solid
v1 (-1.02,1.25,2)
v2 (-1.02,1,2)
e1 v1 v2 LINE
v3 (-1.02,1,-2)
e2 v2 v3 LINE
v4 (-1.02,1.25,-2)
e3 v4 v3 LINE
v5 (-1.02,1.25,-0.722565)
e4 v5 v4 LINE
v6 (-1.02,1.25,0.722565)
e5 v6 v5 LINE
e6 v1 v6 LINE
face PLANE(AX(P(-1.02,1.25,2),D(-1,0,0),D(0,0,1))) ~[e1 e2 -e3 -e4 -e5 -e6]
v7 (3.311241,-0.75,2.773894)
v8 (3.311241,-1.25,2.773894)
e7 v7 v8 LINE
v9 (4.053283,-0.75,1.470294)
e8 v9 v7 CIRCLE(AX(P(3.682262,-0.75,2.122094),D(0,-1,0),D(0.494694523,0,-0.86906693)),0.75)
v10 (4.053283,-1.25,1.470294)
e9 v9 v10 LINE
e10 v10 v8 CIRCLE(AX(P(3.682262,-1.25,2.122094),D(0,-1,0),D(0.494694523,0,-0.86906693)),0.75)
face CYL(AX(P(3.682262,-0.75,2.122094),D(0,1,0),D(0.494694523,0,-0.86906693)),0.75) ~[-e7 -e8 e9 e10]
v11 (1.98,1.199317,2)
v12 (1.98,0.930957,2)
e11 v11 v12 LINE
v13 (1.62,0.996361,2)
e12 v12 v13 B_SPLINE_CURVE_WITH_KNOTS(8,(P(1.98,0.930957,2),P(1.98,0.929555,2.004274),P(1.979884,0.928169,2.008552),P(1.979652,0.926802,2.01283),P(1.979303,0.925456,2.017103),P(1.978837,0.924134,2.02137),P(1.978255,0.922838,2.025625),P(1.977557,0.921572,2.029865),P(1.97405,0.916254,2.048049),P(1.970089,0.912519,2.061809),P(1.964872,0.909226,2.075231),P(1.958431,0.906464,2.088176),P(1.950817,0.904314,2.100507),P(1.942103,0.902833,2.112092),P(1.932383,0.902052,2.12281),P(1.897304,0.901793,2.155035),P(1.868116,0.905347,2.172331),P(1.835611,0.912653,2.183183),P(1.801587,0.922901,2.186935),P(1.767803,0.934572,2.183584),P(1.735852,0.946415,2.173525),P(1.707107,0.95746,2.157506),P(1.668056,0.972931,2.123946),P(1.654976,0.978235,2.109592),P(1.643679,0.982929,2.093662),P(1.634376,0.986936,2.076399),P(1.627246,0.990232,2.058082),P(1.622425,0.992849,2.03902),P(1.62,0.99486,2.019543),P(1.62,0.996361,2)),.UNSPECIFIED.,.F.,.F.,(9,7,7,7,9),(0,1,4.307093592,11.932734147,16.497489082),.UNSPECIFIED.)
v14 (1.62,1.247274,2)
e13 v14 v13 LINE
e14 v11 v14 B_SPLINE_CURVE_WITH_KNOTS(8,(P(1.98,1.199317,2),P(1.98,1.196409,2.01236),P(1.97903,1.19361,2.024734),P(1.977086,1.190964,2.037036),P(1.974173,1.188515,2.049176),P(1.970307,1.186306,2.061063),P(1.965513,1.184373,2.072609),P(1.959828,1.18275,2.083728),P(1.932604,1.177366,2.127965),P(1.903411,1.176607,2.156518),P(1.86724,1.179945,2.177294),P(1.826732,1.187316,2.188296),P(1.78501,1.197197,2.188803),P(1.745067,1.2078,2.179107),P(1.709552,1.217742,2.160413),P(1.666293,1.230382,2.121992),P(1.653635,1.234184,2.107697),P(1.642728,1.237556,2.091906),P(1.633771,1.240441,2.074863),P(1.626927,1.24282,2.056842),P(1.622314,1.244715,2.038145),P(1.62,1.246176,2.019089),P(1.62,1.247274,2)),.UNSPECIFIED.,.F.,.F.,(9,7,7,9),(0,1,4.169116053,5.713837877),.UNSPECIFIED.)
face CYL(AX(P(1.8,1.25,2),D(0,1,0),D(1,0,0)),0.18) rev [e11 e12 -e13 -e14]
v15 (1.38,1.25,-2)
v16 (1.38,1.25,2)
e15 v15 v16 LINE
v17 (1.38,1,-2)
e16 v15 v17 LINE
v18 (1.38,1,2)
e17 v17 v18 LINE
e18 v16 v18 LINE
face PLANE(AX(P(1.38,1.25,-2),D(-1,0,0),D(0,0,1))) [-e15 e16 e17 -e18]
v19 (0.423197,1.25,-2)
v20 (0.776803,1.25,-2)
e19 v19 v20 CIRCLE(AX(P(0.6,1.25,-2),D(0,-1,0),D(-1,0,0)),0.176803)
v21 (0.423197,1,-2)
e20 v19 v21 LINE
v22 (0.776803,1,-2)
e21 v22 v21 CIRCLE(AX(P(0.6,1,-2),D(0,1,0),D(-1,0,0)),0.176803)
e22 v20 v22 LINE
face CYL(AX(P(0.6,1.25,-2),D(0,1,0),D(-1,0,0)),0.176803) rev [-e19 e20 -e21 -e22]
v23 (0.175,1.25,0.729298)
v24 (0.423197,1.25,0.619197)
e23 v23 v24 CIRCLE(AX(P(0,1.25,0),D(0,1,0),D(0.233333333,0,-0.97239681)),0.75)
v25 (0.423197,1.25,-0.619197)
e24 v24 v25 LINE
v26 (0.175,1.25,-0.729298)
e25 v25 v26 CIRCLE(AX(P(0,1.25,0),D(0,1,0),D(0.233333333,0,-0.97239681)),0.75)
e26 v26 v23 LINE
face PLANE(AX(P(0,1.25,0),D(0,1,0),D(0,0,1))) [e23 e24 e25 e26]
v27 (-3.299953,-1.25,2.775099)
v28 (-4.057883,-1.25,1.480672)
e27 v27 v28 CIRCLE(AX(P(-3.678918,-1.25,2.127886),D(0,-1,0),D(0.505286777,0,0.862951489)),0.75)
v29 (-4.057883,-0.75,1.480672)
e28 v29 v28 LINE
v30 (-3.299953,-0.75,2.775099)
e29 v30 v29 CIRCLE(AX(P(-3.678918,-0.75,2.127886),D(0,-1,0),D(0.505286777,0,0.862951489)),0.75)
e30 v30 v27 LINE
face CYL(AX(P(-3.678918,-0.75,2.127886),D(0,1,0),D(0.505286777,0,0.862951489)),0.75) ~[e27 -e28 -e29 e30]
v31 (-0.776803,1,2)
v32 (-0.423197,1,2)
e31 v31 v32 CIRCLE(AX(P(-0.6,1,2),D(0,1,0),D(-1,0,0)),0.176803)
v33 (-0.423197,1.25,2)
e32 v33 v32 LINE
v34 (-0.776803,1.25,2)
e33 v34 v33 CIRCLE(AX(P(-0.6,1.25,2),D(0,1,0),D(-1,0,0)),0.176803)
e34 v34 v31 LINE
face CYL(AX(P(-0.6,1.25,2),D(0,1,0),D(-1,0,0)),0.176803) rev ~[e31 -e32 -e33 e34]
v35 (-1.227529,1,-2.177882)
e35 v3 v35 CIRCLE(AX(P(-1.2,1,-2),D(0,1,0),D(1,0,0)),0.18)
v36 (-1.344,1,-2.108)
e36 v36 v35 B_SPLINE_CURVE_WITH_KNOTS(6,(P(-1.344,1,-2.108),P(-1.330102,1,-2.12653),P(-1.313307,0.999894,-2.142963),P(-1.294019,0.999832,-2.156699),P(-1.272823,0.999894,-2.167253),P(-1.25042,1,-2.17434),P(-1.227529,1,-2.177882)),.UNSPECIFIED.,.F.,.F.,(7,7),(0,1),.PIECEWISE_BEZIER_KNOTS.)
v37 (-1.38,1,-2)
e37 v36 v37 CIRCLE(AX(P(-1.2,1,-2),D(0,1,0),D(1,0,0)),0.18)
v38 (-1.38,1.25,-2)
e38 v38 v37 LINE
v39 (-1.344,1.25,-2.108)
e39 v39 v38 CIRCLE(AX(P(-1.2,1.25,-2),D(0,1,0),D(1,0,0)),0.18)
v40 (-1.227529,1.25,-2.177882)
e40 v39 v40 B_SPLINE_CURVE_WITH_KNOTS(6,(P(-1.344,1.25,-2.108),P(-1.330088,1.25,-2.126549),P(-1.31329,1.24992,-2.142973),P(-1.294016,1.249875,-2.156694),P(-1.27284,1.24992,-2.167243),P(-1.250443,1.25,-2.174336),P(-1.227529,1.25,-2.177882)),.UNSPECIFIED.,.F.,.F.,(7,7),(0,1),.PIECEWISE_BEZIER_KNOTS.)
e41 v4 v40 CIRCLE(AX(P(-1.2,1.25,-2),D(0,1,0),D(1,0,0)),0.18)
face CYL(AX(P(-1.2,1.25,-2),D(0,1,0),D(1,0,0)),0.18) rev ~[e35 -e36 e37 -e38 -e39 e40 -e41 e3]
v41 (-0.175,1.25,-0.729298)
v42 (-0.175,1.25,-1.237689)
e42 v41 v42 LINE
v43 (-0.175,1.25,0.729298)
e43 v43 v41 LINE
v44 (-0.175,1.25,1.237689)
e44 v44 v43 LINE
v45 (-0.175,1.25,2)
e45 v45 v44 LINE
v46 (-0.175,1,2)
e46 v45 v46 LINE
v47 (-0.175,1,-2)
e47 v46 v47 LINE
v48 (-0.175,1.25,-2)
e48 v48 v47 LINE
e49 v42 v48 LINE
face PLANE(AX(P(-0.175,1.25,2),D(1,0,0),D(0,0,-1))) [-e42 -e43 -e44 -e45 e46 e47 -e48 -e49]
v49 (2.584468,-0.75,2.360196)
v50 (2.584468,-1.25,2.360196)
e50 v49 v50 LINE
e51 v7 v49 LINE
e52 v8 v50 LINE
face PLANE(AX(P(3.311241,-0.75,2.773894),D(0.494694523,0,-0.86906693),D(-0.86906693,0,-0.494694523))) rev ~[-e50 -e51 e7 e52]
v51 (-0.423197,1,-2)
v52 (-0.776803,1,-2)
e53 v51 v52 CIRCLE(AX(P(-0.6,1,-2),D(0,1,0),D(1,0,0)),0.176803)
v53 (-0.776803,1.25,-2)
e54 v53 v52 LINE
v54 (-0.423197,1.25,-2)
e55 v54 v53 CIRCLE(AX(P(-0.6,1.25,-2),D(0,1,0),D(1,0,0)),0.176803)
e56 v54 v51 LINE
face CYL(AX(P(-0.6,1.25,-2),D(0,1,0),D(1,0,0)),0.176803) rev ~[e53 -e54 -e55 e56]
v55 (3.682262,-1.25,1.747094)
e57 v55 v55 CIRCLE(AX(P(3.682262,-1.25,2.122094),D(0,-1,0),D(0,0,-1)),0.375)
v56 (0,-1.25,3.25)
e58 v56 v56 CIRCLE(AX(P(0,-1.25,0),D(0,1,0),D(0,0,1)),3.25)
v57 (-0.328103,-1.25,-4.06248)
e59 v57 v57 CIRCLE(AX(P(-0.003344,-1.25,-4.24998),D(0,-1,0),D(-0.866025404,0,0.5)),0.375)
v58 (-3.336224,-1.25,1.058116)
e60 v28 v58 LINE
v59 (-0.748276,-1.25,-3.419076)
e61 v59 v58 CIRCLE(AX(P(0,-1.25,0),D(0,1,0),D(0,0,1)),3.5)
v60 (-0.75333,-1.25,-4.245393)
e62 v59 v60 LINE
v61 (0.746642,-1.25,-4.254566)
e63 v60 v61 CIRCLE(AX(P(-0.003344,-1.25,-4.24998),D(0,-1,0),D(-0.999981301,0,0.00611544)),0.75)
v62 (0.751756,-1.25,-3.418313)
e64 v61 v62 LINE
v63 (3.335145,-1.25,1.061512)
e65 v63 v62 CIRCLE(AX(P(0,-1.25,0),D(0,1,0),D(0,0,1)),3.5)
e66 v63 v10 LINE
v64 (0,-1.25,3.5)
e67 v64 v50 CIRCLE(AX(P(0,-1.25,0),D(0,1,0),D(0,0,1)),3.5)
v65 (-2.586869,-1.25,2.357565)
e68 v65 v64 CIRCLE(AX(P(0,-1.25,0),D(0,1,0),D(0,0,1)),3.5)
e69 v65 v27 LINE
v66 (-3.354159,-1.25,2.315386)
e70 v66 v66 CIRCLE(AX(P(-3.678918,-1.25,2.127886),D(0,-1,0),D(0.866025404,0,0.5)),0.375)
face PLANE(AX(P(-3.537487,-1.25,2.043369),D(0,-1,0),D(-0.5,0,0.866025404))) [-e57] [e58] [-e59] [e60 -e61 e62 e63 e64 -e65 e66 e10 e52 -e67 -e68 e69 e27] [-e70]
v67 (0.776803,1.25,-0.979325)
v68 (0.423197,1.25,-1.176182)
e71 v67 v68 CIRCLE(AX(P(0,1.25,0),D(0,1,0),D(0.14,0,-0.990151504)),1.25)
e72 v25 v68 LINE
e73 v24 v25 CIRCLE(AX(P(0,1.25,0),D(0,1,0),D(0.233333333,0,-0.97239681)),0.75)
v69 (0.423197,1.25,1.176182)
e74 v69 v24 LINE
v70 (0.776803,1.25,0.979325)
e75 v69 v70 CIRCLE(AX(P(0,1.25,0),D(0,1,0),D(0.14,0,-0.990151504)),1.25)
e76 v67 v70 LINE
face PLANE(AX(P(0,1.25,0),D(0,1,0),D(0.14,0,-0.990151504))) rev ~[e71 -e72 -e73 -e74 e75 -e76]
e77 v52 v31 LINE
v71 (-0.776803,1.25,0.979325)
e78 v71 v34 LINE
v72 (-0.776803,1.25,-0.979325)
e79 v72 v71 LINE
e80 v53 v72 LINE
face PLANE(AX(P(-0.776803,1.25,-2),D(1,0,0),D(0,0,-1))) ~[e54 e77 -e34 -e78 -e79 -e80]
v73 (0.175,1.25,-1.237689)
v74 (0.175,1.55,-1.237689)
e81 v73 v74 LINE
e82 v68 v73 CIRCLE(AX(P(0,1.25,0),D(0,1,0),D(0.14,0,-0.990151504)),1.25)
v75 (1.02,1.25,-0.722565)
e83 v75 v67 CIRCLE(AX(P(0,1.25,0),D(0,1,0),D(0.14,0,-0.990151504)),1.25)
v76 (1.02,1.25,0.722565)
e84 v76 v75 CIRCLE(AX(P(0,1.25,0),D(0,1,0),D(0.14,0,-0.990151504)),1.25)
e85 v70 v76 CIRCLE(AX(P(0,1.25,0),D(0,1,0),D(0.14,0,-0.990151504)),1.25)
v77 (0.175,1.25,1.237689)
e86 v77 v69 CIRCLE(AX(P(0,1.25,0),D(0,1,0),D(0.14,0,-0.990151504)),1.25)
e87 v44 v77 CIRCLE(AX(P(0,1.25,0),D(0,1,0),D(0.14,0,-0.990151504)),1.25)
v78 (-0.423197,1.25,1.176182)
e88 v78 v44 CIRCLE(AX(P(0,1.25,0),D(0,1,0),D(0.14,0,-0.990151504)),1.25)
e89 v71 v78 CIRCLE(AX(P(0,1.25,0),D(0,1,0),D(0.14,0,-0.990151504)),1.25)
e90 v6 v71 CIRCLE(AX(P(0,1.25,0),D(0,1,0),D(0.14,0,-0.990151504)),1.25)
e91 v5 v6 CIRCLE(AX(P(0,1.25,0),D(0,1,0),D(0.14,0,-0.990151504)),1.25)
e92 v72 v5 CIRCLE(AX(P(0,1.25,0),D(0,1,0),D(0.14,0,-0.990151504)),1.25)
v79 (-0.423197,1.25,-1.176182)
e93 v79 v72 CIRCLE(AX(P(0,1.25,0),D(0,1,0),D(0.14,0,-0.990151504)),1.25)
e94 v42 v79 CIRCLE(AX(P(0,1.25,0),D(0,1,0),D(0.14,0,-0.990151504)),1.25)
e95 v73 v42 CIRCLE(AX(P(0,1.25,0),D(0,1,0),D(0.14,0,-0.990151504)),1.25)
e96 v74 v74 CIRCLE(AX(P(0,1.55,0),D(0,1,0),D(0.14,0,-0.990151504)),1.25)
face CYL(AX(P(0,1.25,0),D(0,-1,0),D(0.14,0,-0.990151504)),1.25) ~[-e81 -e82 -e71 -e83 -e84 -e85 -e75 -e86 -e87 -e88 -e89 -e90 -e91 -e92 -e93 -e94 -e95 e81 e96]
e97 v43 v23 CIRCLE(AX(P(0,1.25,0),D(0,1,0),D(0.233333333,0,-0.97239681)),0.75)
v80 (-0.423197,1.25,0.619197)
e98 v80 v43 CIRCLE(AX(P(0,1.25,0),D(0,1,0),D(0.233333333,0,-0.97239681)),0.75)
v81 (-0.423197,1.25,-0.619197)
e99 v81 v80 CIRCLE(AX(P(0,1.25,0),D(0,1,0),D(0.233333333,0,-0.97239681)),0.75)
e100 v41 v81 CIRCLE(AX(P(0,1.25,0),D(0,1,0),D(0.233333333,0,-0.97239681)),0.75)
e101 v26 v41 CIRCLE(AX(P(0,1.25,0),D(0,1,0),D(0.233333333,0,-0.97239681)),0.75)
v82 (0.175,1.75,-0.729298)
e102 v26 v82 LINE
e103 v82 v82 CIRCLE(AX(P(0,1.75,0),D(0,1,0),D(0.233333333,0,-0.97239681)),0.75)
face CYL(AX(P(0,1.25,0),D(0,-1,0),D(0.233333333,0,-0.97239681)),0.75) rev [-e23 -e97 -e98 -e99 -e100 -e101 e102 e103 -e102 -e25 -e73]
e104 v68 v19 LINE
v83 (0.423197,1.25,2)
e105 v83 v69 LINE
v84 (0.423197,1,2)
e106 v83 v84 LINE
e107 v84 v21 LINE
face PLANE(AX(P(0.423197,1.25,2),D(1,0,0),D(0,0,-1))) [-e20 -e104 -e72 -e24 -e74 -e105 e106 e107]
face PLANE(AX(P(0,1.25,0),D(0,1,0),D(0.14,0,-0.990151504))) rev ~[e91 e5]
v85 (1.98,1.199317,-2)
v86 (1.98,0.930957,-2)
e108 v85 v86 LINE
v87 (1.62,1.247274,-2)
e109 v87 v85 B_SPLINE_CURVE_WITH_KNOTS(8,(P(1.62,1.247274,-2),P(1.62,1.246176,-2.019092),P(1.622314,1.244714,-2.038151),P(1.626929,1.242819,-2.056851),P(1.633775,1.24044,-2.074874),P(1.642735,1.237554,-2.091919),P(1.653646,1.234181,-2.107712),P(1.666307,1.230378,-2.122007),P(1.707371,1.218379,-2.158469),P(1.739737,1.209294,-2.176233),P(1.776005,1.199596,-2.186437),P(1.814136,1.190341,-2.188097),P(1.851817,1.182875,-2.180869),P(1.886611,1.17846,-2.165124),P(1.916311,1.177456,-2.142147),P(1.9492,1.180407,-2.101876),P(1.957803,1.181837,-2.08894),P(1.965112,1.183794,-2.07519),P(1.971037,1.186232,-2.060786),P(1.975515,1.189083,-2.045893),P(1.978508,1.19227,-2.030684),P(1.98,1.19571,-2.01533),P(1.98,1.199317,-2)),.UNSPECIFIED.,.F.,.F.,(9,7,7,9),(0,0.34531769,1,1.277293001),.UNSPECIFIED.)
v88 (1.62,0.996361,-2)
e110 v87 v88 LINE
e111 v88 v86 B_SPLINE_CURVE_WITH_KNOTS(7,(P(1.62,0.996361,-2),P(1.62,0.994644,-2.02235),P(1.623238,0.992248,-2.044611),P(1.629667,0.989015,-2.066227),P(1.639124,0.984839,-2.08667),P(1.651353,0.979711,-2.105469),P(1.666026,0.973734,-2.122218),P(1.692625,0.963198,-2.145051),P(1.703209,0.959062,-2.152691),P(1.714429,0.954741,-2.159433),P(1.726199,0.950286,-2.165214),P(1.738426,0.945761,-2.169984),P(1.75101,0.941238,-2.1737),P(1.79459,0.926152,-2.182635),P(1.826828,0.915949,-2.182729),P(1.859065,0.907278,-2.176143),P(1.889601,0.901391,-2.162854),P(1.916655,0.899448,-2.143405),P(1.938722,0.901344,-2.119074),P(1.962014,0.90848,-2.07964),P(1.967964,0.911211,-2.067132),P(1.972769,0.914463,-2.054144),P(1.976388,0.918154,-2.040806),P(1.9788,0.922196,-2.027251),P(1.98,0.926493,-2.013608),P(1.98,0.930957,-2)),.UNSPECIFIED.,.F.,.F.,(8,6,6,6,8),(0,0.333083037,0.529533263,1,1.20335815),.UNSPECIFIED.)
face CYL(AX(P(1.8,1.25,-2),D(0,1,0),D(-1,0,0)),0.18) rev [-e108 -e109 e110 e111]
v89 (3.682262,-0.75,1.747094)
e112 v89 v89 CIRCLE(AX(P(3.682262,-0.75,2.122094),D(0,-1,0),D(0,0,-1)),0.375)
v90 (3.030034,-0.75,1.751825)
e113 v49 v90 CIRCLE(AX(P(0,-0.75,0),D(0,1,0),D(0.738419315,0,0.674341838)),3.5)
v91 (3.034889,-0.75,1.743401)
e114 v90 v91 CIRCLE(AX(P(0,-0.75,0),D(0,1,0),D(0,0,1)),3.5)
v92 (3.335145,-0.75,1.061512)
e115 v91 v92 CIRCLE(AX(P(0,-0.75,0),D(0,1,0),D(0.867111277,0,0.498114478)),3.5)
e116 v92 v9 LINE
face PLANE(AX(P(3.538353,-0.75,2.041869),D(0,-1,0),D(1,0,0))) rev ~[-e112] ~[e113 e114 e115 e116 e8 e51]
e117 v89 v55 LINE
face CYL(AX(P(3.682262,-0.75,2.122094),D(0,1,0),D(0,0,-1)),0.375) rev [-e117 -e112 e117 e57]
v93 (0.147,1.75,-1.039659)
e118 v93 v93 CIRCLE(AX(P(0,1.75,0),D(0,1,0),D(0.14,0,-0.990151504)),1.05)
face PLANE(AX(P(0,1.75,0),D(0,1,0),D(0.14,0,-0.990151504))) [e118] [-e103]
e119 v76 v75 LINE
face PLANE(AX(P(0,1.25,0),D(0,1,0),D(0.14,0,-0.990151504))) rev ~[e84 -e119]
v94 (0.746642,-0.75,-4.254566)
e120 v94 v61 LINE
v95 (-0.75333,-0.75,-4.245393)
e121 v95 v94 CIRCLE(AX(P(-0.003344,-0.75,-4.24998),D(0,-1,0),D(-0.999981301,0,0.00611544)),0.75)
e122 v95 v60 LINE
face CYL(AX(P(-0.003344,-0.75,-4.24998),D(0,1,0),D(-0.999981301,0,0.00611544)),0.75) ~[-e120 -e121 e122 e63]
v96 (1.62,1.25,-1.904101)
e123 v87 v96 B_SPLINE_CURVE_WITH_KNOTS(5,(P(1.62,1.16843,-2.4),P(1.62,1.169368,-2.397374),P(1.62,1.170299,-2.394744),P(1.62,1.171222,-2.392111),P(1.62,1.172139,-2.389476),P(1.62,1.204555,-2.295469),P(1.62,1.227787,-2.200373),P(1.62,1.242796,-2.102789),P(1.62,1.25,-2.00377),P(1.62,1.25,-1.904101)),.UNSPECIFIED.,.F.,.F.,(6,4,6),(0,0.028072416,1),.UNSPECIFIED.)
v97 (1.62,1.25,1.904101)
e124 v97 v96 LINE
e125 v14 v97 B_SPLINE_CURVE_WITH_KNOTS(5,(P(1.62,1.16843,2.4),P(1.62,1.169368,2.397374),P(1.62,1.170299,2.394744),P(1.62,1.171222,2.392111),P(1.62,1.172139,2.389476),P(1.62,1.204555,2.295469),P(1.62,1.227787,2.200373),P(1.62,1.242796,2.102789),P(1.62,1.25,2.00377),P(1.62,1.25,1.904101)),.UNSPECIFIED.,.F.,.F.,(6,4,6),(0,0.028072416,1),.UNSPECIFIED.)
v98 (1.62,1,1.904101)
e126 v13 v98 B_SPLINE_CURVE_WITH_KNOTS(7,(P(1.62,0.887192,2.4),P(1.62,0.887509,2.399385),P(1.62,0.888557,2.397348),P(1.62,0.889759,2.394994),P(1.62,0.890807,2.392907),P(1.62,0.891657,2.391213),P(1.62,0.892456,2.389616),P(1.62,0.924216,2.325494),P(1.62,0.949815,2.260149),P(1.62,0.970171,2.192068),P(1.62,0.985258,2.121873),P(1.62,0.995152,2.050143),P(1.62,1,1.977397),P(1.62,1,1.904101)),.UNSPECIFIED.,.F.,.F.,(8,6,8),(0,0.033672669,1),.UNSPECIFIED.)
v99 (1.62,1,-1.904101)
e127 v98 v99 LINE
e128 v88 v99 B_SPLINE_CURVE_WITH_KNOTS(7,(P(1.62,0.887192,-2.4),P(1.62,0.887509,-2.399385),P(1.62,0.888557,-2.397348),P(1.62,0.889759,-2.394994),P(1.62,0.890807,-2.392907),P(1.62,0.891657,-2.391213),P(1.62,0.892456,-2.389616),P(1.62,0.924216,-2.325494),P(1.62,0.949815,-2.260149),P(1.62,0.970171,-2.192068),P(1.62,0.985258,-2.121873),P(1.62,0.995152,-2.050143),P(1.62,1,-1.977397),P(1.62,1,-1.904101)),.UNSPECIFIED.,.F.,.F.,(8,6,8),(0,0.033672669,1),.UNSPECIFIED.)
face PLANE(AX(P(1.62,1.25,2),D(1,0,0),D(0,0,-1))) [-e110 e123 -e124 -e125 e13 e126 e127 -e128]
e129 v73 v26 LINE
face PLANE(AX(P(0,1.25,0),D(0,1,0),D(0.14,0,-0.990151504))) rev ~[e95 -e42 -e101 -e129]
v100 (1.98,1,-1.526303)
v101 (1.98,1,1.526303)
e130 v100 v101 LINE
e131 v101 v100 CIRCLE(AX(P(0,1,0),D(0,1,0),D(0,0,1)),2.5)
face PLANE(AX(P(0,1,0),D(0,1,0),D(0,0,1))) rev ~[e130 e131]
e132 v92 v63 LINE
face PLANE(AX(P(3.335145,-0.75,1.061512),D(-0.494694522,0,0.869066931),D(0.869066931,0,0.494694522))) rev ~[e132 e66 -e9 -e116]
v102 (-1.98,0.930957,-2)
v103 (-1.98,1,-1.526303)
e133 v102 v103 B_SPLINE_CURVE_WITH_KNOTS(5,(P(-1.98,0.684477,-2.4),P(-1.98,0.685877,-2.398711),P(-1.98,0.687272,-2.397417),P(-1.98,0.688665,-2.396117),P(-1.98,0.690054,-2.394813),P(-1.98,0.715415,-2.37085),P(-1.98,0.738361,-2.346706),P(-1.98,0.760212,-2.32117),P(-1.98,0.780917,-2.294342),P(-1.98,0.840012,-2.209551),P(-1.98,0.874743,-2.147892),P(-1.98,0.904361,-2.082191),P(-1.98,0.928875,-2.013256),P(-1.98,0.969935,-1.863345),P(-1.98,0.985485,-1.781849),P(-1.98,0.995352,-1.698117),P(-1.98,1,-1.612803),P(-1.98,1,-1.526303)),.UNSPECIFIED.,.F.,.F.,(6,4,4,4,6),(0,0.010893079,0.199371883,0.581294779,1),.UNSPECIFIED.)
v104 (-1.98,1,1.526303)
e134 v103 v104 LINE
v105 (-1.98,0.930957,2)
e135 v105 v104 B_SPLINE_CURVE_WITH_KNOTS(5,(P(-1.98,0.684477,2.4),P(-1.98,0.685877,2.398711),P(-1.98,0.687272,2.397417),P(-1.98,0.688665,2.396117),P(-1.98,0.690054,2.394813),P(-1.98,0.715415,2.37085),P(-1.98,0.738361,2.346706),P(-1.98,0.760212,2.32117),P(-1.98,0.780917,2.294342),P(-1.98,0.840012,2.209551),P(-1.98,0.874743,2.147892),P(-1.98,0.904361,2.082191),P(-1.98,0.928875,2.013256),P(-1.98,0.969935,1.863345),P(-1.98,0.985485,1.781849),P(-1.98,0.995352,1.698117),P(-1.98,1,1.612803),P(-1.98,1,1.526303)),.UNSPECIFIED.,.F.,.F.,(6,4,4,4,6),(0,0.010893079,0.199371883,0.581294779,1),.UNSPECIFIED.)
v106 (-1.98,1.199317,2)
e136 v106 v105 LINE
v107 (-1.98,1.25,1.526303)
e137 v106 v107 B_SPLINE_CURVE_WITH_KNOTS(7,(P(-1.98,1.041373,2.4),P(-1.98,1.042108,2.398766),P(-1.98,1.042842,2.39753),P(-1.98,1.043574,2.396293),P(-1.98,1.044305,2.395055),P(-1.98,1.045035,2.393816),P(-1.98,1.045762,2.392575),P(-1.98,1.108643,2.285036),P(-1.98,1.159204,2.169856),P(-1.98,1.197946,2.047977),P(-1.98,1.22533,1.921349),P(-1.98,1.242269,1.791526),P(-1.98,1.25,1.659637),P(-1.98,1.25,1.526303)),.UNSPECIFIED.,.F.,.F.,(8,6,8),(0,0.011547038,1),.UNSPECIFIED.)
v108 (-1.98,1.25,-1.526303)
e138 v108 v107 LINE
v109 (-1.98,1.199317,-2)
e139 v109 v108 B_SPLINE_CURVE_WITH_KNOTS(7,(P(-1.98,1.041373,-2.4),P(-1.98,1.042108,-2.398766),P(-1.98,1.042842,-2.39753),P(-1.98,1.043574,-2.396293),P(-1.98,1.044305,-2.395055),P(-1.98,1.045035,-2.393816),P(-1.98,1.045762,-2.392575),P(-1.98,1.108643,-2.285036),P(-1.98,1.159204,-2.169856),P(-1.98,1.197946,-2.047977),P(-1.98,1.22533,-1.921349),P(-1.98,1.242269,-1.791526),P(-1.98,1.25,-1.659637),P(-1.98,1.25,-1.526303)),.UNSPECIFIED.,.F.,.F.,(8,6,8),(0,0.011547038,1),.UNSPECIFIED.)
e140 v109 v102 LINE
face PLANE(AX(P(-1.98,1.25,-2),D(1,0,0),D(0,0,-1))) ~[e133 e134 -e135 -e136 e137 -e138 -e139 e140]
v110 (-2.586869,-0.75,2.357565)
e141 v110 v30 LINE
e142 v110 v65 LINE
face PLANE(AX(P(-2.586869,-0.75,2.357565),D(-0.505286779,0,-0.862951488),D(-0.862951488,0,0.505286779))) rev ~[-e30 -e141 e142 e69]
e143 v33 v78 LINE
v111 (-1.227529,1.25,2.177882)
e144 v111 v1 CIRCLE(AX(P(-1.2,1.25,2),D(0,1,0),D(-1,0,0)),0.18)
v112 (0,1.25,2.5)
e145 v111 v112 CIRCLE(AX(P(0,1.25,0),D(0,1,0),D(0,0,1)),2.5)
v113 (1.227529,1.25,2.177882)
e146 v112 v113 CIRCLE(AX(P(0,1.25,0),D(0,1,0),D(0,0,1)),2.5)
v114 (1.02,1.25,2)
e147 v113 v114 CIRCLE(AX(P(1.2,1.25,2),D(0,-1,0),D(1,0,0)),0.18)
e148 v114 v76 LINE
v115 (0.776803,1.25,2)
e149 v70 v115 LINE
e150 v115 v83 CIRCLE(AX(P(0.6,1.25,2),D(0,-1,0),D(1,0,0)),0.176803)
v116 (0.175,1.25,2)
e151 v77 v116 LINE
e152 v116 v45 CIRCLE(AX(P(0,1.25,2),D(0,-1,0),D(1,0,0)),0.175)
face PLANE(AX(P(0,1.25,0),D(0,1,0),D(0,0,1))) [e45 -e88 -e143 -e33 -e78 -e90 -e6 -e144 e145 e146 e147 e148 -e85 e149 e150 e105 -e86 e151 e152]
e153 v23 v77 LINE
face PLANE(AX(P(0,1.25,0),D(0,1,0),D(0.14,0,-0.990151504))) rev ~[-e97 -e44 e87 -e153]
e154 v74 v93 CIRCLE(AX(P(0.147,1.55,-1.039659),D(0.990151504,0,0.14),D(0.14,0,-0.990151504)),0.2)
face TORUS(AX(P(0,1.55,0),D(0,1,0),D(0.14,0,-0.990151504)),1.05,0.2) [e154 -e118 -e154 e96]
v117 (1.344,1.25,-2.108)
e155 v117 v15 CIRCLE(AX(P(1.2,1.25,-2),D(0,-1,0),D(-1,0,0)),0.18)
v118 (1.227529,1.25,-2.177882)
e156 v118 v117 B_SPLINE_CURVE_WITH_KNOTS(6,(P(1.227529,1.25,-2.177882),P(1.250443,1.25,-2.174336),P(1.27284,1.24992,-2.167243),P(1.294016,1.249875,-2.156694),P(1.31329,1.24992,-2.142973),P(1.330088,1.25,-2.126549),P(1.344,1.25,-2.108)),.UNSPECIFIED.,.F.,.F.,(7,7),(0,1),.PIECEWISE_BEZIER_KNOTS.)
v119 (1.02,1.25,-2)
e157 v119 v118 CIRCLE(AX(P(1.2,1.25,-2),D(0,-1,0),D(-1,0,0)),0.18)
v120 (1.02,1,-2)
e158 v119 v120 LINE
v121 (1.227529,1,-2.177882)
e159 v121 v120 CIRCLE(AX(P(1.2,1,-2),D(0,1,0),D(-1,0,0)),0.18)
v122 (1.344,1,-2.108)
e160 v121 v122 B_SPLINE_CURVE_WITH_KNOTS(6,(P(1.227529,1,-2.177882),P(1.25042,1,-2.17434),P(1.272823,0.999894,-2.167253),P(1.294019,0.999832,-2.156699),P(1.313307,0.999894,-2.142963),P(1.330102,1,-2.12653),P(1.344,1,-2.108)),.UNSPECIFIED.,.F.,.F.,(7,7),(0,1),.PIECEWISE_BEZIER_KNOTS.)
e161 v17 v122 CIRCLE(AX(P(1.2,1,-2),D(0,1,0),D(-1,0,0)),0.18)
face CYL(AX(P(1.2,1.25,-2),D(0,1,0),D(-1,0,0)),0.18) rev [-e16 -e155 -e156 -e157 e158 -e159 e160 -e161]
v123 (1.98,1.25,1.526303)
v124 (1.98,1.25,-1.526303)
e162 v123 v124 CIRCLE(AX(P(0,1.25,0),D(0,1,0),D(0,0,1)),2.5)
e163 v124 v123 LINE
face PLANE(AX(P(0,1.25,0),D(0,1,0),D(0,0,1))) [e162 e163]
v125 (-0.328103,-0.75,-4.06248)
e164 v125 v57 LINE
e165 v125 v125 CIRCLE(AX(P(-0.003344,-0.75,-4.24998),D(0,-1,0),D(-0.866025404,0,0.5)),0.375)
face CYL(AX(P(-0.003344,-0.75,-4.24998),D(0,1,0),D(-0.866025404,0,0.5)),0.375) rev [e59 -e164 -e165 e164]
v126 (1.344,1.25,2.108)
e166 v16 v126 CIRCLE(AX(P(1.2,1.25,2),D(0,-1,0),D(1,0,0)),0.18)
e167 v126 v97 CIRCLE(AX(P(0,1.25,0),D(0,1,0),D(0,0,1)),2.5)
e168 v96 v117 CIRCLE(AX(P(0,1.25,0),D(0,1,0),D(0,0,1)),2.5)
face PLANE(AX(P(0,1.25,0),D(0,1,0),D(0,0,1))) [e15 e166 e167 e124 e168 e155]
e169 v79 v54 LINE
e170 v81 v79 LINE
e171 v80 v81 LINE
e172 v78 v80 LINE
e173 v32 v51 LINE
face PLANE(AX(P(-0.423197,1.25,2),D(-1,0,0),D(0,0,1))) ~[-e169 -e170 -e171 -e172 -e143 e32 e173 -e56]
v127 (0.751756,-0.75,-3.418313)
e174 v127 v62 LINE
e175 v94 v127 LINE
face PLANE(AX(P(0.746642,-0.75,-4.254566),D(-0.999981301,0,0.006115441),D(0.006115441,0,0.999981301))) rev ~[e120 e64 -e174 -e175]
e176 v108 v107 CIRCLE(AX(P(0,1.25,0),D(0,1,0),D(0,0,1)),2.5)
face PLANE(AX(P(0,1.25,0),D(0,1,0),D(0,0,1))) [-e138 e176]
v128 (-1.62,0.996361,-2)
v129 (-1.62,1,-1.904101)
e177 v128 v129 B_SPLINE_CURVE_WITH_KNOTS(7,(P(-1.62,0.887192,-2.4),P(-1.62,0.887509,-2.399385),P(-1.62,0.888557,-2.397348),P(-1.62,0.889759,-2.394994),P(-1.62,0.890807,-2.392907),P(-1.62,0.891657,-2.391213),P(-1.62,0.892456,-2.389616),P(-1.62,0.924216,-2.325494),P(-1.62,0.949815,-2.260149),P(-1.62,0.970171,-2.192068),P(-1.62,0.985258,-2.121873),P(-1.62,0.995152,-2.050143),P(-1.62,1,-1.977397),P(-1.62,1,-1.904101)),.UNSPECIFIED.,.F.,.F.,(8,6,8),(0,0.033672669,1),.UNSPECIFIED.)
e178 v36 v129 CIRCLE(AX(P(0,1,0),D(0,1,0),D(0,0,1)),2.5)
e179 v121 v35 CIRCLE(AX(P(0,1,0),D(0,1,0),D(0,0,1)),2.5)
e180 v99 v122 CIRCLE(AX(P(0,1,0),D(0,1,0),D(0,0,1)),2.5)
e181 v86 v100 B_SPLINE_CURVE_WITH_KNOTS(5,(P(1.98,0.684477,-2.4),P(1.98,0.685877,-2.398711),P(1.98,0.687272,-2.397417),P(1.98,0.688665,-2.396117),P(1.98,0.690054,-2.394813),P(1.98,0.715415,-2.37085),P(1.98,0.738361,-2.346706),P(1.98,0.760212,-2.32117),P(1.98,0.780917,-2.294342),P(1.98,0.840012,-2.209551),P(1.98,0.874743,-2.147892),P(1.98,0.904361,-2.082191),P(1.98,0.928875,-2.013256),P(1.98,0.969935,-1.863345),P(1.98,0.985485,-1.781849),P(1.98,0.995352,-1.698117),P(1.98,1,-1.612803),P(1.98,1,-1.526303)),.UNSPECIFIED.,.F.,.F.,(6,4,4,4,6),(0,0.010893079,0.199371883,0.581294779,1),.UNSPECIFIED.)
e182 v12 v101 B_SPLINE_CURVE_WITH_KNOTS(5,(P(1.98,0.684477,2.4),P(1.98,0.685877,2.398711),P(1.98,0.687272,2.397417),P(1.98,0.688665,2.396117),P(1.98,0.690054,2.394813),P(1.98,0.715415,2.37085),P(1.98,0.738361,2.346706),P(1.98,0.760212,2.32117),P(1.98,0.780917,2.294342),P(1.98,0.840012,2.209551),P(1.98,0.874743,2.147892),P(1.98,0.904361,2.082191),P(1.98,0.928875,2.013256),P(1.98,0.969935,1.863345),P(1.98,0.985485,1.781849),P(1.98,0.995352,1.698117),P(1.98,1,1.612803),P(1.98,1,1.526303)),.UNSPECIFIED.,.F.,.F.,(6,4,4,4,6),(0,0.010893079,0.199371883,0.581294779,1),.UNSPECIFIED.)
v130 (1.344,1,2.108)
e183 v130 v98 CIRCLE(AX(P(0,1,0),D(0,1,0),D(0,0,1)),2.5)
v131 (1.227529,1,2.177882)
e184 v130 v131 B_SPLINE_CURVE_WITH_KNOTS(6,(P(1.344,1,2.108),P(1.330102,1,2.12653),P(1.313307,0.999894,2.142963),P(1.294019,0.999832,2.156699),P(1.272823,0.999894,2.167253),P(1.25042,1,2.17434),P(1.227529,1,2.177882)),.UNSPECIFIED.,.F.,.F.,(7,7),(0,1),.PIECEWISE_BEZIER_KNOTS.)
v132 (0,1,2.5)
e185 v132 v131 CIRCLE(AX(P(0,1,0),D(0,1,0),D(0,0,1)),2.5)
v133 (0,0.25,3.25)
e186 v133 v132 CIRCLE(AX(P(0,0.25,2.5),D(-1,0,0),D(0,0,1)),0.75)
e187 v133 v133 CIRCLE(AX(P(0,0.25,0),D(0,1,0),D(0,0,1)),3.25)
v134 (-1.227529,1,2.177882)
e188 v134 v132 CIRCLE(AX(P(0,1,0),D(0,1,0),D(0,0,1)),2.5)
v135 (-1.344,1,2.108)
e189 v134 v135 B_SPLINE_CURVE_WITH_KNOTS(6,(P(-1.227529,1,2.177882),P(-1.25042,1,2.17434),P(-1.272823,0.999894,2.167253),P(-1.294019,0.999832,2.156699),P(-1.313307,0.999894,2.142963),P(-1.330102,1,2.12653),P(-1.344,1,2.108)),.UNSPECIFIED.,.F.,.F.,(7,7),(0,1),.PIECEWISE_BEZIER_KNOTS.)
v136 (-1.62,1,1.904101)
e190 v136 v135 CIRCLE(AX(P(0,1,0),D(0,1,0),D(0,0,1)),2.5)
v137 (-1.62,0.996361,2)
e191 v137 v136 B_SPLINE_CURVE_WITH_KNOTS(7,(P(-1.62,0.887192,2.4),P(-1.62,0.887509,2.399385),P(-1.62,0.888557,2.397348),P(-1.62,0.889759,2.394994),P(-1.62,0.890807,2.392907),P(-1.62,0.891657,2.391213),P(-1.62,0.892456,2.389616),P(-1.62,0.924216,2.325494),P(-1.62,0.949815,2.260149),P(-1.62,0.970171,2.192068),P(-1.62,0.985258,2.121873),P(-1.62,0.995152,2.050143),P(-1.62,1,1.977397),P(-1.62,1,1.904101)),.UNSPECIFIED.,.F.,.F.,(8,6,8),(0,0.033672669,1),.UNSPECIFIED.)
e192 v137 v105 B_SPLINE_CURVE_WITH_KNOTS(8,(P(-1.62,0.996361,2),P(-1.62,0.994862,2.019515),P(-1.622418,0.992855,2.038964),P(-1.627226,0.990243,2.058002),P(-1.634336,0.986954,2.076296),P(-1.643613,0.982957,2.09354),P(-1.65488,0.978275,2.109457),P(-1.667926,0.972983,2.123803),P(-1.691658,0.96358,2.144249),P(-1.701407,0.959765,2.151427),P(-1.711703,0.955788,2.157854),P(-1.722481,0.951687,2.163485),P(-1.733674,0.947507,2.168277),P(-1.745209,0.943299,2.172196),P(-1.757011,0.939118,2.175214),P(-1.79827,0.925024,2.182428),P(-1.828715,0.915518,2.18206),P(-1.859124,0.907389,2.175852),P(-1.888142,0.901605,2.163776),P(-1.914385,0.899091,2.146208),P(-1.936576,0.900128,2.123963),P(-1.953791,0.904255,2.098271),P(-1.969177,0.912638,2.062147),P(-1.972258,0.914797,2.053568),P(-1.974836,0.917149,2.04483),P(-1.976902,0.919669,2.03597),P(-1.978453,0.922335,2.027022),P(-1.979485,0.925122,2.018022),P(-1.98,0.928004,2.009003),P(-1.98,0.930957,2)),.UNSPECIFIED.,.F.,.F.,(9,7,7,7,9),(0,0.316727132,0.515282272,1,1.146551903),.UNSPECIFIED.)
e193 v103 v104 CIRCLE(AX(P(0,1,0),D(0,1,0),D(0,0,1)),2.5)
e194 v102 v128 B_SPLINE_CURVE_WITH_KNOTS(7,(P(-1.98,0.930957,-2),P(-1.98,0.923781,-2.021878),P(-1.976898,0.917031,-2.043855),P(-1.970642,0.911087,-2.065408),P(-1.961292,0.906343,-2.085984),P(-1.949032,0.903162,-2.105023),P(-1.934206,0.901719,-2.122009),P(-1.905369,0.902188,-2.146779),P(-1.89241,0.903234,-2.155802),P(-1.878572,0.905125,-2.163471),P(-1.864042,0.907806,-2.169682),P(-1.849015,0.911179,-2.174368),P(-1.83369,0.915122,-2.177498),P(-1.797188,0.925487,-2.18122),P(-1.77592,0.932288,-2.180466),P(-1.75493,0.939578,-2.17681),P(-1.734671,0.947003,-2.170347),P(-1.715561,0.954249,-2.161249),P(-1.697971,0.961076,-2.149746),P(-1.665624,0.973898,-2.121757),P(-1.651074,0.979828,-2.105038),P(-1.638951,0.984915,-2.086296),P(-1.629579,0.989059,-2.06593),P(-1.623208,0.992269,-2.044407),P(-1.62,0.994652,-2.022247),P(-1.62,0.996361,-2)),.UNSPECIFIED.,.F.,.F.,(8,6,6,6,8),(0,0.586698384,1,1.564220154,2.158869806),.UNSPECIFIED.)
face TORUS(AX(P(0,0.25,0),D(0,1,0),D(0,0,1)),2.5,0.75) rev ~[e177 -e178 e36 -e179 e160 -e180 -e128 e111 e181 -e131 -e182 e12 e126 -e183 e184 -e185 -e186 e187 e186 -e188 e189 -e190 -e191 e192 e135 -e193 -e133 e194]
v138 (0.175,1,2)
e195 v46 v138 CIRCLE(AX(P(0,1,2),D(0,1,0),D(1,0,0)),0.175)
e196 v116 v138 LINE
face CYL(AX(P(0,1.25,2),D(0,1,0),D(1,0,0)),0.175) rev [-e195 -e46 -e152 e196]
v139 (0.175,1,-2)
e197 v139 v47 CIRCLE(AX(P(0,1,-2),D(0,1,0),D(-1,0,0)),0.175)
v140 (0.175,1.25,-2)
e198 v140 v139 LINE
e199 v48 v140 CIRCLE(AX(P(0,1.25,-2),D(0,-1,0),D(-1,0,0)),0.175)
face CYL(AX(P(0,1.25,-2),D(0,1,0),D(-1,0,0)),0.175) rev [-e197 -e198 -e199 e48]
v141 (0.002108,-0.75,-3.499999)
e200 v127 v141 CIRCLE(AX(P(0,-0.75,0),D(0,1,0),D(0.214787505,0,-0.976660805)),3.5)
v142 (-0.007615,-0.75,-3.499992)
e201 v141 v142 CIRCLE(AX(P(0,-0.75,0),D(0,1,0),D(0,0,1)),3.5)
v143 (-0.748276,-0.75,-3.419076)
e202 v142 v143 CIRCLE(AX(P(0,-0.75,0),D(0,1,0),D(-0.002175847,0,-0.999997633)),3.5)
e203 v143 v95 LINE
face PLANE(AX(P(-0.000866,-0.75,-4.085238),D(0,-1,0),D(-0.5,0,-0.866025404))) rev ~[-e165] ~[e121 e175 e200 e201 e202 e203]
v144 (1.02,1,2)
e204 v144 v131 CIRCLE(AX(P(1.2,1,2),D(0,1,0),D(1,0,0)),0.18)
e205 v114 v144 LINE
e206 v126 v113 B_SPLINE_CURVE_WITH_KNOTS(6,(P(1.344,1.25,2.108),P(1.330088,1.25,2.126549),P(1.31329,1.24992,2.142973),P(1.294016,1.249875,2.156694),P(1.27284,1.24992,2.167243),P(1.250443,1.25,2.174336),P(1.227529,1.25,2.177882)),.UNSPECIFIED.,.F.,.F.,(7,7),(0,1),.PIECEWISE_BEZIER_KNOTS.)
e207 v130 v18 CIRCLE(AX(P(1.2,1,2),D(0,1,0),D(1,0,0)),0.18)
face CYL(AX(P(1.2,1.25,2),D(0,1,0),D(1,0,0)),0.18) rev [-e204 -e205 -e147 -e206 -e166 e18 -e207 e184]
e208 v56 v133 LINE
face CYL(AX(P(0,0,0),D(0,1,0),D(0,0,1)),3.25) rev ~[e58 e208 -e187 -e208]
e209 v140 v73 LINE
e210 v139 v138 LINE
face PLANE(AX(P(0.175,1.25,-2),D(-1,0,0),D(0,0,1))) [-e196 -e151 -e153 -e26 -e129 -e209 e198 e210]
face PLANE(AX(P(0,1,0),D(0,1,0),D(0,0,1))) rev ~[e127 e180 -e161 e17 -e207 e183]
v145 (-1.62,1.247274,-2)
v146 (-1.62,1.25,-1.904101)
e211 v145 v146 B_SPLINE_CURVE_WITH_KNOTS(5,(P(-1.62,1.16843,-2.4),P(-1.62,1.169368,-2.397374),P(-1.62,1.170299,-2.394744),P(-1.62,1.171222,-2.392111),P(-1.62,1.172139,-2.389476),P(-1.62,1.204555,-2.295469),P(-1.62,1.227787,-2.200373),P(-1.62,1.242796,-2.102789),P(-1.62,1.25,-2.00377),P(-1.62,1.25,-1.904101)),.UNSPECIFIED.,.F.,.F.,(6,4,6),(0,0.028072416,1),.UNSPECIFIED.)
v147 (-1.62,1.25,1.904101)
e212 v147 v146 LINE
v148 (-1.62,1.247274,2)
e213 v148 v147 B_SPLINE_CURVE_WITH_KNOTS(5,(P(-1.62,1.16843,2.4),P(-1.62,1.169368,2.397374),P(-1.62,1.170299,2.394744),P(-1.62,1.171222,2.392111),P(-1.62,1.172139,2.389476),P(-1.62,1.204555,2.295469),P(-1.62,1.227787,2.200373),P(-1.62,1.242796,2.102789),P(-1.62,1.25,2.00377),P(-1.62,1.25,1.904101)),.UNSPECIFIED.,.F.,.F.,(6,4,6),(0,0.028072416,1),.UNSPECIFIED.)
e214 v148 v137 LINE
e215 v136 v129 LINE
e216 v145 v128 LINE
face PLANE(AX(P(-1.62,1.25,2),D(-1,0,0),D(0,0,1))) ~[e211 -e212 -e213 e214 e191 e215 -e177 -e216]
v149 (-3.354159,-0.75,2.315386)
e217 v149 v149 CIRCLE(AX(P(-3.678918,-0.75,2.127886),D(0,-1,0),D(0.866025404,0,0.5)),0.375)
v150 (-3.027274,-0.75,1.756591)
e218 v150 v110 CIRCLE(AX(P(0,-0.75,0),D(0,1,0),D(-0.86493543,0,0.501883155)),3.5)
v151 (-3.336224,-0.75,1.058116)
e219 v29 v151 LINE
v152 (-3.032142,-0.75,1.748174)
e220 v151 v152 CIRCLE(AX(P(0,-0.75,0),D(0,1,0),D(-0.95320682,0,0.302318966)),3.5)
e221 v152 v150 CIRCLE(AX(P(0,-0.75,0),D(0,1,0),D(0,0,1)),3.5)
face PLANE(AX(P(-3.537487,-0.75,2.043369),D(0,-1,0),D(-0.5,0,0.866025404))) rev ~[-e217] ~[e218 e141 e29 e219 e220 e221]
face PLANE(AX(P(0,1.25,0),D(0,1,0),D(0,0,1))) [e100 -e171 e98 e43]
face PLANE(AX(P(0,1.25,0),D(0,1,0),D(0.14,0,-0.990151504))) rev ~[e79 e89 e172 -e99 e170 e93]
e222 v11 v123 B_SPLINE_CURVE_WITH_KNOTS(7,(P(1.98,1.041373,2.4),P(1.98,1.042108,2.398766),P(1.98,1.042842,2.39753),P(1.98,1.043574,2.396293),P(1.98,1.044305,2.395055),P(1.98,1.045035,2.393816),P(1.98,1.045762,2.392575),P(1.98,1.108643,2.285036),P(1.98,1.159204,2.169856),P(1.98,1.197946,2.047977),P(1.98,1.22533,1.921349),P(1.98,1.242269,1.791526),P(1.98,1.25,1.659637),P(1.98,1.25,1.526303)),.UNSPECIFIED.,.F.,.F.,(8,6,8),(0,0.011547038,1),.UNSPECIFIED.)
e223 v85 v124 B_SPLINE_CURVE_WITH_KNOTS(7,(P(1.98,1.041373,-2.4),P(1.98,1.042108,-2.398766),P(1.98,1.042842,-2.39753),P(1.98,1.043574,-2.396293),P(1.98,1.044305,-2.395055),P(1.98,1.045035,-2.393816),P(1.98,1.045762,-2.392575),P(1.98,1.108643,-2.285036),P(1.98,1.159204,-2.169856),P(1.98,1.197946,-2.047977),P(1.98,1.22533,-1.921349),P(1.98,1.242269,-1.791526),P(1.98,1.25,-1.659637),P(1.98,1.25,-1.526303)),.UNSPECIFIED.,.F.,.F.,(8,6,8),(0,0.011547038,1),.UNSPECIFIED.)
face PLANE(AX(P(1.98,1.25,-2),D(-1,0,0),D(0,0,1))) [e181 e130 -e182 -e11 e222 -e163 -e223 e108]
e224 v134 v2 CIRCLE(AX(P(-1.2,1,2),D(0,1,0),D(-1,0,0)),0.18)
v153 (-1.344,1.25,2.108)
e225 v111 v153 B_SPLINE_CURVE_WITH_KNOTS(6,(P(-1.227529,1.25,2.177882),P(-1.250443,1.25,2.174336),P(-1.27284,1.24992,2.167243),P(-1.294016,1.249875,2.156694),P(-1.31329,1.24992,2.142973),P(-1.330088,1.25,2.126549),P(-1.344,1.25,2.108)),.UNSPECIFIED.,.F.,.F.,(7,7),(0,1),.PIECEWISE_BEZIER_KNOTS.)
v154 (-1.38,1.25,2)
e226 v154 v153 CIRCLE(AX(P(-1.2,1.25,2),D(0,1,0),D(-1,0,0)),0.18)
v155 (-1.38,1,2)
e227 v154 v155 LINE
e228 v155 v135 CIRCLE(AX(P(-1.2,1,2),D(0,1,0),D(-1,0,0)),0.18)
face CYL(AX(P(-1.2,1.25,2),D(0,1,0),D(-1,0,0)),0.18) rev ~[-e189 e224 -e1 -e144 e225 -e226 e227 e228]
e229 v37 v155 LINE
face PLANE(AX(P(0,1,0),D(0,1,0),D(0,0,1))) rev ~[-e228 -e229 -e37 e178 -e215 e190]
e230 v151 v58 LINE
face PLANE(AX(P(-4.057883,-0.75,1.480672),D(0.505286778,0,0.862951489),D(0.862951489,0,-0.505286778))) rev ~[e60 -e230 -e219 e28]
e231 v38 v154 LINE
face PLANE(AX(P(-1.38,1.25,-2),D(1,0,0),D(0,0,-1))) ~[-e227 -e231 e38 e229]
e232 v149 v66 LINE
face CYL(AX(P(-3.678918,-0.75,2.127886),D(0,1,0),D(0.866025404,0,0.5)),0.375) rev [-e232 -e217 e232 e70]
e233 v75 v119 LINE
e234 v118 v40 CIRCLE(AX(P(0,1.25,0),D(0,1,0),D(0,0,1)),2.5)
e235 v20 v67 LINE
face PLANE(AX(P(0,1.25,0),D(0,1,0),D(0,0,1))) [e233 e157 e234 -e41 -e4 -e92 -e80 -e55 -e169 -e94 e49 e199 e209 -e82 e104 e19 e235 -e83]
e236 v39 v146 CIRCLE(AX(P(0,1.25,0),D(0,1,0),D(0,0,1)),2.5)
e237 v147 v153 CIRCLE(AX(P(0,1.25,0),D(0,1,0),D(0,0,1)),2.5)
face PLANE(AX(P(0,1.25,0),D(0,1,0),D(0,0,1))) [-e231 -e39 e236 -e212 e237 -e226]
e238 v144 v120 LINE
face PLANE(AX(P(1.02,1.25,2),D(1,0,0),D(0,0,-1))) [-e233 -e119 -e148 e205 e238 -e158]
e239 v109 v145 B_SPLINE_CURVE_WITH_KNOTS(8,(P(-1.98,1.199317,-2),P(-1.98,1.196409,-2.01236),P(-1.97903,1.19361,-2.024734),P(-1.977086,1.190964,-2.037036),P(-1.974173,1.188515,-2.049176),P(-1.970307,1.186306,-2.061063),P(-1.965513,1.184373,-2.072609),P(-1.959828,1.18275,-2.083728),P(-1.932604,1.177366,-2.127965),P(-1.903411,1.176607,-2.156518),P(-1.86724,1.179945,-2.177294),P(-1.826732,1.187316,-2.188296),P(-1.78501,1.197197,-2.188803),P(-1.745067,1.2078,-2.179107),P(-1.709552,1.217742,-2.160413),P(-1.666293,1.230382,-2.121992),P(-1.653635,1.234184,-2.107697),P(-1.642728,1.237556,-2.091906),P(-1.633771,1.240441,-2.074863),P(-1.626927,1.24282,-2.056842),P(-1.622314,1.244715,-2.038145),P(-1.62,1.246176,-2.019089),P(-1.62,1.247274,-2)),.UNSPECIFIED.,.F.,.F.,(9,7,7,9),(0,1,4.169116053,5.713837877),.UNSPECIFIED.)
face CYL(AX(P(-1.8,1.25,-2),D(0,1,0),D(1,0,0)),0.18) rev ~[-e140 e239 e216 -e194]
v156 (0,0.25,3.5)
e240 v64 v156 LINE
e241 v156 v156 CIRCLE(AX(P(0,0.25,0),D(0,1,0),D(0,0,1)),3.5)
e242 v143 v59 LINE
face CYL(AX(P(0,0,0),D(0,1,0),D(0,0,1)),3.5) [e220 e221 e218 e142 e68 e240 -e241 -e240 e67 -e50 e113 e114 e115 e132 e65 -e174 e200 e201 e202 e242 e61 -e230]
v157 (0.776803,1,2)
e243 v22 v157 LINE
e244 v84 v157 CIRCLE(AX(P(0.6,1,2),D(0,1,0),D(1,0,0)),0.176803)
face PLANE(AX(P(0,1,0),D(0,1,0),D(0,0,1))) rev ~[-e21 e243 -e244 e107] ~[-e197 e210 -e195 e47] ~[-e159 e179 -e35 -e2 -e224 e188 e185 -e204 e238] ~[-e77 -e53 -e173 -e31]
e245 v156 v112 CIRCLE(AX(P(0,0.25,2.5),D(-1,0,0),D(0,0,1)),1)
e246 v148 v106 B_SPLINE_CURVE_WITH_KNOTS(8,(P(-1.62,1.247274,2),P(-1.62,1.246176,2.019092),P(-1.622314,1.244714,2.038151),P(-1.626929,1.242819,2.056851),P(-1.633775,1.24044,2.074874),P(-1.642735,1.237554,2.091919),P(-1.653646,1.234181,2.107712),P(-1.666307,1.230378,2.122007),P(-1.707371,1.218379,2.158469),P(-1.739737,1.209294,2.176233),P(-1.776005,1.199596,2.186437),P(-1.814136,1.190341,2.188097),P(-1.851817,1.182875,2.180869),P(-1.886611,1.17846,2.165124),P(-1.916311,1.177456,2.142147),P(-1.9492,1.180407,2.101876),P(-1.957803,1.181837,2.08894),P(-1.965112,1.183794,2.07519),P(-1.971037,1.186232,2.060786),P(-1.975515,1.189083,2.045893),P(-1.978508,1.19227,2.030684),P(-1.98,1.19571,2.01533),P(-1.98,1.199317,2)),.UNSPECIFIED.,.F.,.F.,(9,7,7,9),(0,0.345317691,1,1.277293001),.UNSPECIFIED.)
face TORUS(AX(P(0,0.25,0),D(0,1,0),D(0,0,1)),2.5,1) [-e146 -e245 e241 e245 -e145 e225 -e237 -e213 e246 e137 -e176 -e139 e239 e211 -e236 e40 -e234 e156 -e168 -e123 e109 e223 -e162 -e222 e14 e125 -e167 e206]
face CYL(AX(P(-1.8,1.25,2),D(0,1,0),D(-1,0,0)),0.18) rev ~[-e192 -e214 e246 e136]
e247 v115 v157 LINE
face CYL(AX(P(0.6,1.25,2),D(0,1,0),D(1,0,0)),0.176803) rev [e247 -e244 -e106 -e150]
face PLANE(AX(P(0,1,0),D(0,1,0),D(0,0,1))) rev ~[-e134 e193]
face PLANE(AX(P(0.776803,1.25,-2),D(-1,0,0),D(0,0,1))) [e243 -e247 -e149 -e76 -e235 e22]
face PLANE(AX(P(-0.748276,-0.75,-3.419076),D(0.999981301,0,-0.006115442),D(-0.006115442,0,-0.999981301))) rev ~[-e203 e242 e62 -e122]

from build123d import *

# Parameters (mm, degrees)
SKETCH1_R           = 3.5
BOSS_EXTRUDE1_DEPTH = 1.25
FILLET1_R           = 1
SHELL1_T            = -0.25
CUT_EXTRUDE2_DEPTH  = 10
SKETCH4_R           = 1.25
SKETCH4_R_2         = 0.75
BOSS_EXTRUDE2_DEPTH = 0.5
FILLET2_R           = 0.2
BOSS_EXTRUDE3_START = -0.5
SKETCH5_R           = 0.375
BOSS_EXTRUDE3_DEPTH = 0.5
CIRPATTERN1_COUNT   = 3


with BuildPart() as part:
    # Sketch1 → Boss-Extrude1 (new, symmetric)
    with BuildSketch(Plane(origin=(0, 0, 0), x_dir=(1, 0, 0), z_dir=(0, 1, 0))):
        with Locations(Location((0, 0, 0), (0, 0, 270))):
            Circle(SKETCH1_R)
    extrude(amount=BOSS_EXTRUDE1_DEPTH, both=True)

    # Fillet1
    fillet1_edges = [part.edges().sort_by_distance(p)[0] for p in [
        (0, 1.25, -3.5),
    ]]
    fillet(fillet1_edges, radius=FILLET1_R)

    # Shell1
    shell1_openings = [part.faces().sort_by_distance(p)[0] for p in [
        (0, -1.25, 0),
    ]]
    offset(amount=SHELL1_T, openings=shell1_openings, kind=Kind.INTERSECTION)

    # Sketch2 → Cut-Extrude2 (cut)
    with BuildSketch(Plane(origin=(0, 1.25, 0), x_dir=(1, 0, 0), z_dir=(0, 1, 0))):
        with BuildLine():
            Line((0.175, 2), (0.175, -2))
            ThreePointArc((0.175, -2), (0, -2.175), (-0.175, -2))
            Line((-0.175, -2), (-0.175, 2))
            ThreePointArc((-0.175, 2), (0, 2.175), (0.175, 2))
        make_face()
        with BuildLine():
            Line((0.776803156, 2), (0.776803156, -2))
            ThreePointArc((0.776803156, -2), (0.6, -2.176803156), (0.423196844, -2))
            Line((0.423196844, -2), (0.423196844, 2))
            ThreePointArc((0.423196844, 2), (0.6, 2.176803156), (0.776803156, 2))
        make_face()
        with BuildLine():
            Line((1.38, 2), (1.38, -2))
            ThreePointArc((1.38, -2), (1.2, -2.18), (1.02, -2))
            Line((1.02, -2), (1.02, 2))
            ThreePointArc((1.02, 2), (1.2, 2.18), (1.38, 2))
        make_face()
        with BuildLine():
            Line((1.98, 2), (1.98, -2))
            ThreePointArc((1.98, -2), (1.8, -2.18), (1.62, -2))
            Line((1.62, -2), (1.62, 2))
            ThreePointArc((1.62, 2), (1.8, 2.18), (1.98, 2))
        make_face()
    cut_extrude2 = extrude(amount=-CUT_EXTRUDE2_DEPTH, mode=Mode.SUBTRACT)

    # Mirror1: Cut-Extrude2 across plane
    add(cut_extrude2.mirror(Plane(origin=(0, 0, 0), x_dir=(0, 0, 1), z_dir=(1, 0, 0))), mode=Mode.SUBTRACT)

    # Sketch4 → Boss-Extrude2 (add)
    with BuildSketch(Plane(origin=(0, 1.25, 0), x_dir=(1, 0, 0), z_dir=(0, 1, 0))):
        with Locations(Location((0, 0, 0), (0, 0, 81.952153753))):
            Circle(SKETCH4_R)
        with Locations(Location((0, 0, 0), (0, 0, 76.506601178))):
            Circle(SKETCH4_R_2, mode=Mode.SUBTRACT)
    extrude(amount=BOSS_EXTRUDE2_DEPTH)

    # Fillet2
    fillet2_edges = [part.edges().sort_by_distance(p)[0] for p in [
        (-0.175, 1.75, 1.237689379),
    ]]
    fillet(fillet2_edges, radius=FILLET2_R)

    # Sketch5 → Boss-Extrude3 (add)
    with BuildSketch(Plane.XZ.offset(1.25).offset(BOSS_EXTRUDE3_START)):
        with BuildLine():
            Line((3.335145109, 1.061511707), (4.053283079, 1.470293709))
            ThreePointArc((4.053283079, 1.470293709), (4.334062384, 2.493114799), (3.311241295, 2.773894105))
            Line((3.311241295, 2.773894105), (2.584467603, 2.360196434))
            ThreePointArc((2.584467603, 2.360196434), (2.823683251, 2.068045671), (3.030034408, 1.751825188))
            ThreePointArc((3.030034408, 1.751825188), (3.032448287, 1.747605061), (3.034889471, 1.74340067))
            ThreePointArc((3.034889471, 1.74340067), (3.203213742, 1.410468618), (3.335145109, 1.061511707))
        make_face()
        with Locations(Location((3.682262187, 2.122093907, 0), (0, 0, 270))):
            Circle(SKETCH5_R, mode=Mode.SUBTRACT)
    boss_extrude3 = extrude(amount=BOSS_EXTRUDE3_DEPTH)

    # CirPattern1: Boss-Extrude3 ×3 about axis
    cirpattern1_axis = Axis((0, 0, 0), (0, 1, 0))
    for i in range(1, CIRPATTERN1_COUNT):
        add(boss_extrude3.rotate(cirpattern1_axis, i * 360 / CIRPATTERN1_COUNT))


solid = part.part
